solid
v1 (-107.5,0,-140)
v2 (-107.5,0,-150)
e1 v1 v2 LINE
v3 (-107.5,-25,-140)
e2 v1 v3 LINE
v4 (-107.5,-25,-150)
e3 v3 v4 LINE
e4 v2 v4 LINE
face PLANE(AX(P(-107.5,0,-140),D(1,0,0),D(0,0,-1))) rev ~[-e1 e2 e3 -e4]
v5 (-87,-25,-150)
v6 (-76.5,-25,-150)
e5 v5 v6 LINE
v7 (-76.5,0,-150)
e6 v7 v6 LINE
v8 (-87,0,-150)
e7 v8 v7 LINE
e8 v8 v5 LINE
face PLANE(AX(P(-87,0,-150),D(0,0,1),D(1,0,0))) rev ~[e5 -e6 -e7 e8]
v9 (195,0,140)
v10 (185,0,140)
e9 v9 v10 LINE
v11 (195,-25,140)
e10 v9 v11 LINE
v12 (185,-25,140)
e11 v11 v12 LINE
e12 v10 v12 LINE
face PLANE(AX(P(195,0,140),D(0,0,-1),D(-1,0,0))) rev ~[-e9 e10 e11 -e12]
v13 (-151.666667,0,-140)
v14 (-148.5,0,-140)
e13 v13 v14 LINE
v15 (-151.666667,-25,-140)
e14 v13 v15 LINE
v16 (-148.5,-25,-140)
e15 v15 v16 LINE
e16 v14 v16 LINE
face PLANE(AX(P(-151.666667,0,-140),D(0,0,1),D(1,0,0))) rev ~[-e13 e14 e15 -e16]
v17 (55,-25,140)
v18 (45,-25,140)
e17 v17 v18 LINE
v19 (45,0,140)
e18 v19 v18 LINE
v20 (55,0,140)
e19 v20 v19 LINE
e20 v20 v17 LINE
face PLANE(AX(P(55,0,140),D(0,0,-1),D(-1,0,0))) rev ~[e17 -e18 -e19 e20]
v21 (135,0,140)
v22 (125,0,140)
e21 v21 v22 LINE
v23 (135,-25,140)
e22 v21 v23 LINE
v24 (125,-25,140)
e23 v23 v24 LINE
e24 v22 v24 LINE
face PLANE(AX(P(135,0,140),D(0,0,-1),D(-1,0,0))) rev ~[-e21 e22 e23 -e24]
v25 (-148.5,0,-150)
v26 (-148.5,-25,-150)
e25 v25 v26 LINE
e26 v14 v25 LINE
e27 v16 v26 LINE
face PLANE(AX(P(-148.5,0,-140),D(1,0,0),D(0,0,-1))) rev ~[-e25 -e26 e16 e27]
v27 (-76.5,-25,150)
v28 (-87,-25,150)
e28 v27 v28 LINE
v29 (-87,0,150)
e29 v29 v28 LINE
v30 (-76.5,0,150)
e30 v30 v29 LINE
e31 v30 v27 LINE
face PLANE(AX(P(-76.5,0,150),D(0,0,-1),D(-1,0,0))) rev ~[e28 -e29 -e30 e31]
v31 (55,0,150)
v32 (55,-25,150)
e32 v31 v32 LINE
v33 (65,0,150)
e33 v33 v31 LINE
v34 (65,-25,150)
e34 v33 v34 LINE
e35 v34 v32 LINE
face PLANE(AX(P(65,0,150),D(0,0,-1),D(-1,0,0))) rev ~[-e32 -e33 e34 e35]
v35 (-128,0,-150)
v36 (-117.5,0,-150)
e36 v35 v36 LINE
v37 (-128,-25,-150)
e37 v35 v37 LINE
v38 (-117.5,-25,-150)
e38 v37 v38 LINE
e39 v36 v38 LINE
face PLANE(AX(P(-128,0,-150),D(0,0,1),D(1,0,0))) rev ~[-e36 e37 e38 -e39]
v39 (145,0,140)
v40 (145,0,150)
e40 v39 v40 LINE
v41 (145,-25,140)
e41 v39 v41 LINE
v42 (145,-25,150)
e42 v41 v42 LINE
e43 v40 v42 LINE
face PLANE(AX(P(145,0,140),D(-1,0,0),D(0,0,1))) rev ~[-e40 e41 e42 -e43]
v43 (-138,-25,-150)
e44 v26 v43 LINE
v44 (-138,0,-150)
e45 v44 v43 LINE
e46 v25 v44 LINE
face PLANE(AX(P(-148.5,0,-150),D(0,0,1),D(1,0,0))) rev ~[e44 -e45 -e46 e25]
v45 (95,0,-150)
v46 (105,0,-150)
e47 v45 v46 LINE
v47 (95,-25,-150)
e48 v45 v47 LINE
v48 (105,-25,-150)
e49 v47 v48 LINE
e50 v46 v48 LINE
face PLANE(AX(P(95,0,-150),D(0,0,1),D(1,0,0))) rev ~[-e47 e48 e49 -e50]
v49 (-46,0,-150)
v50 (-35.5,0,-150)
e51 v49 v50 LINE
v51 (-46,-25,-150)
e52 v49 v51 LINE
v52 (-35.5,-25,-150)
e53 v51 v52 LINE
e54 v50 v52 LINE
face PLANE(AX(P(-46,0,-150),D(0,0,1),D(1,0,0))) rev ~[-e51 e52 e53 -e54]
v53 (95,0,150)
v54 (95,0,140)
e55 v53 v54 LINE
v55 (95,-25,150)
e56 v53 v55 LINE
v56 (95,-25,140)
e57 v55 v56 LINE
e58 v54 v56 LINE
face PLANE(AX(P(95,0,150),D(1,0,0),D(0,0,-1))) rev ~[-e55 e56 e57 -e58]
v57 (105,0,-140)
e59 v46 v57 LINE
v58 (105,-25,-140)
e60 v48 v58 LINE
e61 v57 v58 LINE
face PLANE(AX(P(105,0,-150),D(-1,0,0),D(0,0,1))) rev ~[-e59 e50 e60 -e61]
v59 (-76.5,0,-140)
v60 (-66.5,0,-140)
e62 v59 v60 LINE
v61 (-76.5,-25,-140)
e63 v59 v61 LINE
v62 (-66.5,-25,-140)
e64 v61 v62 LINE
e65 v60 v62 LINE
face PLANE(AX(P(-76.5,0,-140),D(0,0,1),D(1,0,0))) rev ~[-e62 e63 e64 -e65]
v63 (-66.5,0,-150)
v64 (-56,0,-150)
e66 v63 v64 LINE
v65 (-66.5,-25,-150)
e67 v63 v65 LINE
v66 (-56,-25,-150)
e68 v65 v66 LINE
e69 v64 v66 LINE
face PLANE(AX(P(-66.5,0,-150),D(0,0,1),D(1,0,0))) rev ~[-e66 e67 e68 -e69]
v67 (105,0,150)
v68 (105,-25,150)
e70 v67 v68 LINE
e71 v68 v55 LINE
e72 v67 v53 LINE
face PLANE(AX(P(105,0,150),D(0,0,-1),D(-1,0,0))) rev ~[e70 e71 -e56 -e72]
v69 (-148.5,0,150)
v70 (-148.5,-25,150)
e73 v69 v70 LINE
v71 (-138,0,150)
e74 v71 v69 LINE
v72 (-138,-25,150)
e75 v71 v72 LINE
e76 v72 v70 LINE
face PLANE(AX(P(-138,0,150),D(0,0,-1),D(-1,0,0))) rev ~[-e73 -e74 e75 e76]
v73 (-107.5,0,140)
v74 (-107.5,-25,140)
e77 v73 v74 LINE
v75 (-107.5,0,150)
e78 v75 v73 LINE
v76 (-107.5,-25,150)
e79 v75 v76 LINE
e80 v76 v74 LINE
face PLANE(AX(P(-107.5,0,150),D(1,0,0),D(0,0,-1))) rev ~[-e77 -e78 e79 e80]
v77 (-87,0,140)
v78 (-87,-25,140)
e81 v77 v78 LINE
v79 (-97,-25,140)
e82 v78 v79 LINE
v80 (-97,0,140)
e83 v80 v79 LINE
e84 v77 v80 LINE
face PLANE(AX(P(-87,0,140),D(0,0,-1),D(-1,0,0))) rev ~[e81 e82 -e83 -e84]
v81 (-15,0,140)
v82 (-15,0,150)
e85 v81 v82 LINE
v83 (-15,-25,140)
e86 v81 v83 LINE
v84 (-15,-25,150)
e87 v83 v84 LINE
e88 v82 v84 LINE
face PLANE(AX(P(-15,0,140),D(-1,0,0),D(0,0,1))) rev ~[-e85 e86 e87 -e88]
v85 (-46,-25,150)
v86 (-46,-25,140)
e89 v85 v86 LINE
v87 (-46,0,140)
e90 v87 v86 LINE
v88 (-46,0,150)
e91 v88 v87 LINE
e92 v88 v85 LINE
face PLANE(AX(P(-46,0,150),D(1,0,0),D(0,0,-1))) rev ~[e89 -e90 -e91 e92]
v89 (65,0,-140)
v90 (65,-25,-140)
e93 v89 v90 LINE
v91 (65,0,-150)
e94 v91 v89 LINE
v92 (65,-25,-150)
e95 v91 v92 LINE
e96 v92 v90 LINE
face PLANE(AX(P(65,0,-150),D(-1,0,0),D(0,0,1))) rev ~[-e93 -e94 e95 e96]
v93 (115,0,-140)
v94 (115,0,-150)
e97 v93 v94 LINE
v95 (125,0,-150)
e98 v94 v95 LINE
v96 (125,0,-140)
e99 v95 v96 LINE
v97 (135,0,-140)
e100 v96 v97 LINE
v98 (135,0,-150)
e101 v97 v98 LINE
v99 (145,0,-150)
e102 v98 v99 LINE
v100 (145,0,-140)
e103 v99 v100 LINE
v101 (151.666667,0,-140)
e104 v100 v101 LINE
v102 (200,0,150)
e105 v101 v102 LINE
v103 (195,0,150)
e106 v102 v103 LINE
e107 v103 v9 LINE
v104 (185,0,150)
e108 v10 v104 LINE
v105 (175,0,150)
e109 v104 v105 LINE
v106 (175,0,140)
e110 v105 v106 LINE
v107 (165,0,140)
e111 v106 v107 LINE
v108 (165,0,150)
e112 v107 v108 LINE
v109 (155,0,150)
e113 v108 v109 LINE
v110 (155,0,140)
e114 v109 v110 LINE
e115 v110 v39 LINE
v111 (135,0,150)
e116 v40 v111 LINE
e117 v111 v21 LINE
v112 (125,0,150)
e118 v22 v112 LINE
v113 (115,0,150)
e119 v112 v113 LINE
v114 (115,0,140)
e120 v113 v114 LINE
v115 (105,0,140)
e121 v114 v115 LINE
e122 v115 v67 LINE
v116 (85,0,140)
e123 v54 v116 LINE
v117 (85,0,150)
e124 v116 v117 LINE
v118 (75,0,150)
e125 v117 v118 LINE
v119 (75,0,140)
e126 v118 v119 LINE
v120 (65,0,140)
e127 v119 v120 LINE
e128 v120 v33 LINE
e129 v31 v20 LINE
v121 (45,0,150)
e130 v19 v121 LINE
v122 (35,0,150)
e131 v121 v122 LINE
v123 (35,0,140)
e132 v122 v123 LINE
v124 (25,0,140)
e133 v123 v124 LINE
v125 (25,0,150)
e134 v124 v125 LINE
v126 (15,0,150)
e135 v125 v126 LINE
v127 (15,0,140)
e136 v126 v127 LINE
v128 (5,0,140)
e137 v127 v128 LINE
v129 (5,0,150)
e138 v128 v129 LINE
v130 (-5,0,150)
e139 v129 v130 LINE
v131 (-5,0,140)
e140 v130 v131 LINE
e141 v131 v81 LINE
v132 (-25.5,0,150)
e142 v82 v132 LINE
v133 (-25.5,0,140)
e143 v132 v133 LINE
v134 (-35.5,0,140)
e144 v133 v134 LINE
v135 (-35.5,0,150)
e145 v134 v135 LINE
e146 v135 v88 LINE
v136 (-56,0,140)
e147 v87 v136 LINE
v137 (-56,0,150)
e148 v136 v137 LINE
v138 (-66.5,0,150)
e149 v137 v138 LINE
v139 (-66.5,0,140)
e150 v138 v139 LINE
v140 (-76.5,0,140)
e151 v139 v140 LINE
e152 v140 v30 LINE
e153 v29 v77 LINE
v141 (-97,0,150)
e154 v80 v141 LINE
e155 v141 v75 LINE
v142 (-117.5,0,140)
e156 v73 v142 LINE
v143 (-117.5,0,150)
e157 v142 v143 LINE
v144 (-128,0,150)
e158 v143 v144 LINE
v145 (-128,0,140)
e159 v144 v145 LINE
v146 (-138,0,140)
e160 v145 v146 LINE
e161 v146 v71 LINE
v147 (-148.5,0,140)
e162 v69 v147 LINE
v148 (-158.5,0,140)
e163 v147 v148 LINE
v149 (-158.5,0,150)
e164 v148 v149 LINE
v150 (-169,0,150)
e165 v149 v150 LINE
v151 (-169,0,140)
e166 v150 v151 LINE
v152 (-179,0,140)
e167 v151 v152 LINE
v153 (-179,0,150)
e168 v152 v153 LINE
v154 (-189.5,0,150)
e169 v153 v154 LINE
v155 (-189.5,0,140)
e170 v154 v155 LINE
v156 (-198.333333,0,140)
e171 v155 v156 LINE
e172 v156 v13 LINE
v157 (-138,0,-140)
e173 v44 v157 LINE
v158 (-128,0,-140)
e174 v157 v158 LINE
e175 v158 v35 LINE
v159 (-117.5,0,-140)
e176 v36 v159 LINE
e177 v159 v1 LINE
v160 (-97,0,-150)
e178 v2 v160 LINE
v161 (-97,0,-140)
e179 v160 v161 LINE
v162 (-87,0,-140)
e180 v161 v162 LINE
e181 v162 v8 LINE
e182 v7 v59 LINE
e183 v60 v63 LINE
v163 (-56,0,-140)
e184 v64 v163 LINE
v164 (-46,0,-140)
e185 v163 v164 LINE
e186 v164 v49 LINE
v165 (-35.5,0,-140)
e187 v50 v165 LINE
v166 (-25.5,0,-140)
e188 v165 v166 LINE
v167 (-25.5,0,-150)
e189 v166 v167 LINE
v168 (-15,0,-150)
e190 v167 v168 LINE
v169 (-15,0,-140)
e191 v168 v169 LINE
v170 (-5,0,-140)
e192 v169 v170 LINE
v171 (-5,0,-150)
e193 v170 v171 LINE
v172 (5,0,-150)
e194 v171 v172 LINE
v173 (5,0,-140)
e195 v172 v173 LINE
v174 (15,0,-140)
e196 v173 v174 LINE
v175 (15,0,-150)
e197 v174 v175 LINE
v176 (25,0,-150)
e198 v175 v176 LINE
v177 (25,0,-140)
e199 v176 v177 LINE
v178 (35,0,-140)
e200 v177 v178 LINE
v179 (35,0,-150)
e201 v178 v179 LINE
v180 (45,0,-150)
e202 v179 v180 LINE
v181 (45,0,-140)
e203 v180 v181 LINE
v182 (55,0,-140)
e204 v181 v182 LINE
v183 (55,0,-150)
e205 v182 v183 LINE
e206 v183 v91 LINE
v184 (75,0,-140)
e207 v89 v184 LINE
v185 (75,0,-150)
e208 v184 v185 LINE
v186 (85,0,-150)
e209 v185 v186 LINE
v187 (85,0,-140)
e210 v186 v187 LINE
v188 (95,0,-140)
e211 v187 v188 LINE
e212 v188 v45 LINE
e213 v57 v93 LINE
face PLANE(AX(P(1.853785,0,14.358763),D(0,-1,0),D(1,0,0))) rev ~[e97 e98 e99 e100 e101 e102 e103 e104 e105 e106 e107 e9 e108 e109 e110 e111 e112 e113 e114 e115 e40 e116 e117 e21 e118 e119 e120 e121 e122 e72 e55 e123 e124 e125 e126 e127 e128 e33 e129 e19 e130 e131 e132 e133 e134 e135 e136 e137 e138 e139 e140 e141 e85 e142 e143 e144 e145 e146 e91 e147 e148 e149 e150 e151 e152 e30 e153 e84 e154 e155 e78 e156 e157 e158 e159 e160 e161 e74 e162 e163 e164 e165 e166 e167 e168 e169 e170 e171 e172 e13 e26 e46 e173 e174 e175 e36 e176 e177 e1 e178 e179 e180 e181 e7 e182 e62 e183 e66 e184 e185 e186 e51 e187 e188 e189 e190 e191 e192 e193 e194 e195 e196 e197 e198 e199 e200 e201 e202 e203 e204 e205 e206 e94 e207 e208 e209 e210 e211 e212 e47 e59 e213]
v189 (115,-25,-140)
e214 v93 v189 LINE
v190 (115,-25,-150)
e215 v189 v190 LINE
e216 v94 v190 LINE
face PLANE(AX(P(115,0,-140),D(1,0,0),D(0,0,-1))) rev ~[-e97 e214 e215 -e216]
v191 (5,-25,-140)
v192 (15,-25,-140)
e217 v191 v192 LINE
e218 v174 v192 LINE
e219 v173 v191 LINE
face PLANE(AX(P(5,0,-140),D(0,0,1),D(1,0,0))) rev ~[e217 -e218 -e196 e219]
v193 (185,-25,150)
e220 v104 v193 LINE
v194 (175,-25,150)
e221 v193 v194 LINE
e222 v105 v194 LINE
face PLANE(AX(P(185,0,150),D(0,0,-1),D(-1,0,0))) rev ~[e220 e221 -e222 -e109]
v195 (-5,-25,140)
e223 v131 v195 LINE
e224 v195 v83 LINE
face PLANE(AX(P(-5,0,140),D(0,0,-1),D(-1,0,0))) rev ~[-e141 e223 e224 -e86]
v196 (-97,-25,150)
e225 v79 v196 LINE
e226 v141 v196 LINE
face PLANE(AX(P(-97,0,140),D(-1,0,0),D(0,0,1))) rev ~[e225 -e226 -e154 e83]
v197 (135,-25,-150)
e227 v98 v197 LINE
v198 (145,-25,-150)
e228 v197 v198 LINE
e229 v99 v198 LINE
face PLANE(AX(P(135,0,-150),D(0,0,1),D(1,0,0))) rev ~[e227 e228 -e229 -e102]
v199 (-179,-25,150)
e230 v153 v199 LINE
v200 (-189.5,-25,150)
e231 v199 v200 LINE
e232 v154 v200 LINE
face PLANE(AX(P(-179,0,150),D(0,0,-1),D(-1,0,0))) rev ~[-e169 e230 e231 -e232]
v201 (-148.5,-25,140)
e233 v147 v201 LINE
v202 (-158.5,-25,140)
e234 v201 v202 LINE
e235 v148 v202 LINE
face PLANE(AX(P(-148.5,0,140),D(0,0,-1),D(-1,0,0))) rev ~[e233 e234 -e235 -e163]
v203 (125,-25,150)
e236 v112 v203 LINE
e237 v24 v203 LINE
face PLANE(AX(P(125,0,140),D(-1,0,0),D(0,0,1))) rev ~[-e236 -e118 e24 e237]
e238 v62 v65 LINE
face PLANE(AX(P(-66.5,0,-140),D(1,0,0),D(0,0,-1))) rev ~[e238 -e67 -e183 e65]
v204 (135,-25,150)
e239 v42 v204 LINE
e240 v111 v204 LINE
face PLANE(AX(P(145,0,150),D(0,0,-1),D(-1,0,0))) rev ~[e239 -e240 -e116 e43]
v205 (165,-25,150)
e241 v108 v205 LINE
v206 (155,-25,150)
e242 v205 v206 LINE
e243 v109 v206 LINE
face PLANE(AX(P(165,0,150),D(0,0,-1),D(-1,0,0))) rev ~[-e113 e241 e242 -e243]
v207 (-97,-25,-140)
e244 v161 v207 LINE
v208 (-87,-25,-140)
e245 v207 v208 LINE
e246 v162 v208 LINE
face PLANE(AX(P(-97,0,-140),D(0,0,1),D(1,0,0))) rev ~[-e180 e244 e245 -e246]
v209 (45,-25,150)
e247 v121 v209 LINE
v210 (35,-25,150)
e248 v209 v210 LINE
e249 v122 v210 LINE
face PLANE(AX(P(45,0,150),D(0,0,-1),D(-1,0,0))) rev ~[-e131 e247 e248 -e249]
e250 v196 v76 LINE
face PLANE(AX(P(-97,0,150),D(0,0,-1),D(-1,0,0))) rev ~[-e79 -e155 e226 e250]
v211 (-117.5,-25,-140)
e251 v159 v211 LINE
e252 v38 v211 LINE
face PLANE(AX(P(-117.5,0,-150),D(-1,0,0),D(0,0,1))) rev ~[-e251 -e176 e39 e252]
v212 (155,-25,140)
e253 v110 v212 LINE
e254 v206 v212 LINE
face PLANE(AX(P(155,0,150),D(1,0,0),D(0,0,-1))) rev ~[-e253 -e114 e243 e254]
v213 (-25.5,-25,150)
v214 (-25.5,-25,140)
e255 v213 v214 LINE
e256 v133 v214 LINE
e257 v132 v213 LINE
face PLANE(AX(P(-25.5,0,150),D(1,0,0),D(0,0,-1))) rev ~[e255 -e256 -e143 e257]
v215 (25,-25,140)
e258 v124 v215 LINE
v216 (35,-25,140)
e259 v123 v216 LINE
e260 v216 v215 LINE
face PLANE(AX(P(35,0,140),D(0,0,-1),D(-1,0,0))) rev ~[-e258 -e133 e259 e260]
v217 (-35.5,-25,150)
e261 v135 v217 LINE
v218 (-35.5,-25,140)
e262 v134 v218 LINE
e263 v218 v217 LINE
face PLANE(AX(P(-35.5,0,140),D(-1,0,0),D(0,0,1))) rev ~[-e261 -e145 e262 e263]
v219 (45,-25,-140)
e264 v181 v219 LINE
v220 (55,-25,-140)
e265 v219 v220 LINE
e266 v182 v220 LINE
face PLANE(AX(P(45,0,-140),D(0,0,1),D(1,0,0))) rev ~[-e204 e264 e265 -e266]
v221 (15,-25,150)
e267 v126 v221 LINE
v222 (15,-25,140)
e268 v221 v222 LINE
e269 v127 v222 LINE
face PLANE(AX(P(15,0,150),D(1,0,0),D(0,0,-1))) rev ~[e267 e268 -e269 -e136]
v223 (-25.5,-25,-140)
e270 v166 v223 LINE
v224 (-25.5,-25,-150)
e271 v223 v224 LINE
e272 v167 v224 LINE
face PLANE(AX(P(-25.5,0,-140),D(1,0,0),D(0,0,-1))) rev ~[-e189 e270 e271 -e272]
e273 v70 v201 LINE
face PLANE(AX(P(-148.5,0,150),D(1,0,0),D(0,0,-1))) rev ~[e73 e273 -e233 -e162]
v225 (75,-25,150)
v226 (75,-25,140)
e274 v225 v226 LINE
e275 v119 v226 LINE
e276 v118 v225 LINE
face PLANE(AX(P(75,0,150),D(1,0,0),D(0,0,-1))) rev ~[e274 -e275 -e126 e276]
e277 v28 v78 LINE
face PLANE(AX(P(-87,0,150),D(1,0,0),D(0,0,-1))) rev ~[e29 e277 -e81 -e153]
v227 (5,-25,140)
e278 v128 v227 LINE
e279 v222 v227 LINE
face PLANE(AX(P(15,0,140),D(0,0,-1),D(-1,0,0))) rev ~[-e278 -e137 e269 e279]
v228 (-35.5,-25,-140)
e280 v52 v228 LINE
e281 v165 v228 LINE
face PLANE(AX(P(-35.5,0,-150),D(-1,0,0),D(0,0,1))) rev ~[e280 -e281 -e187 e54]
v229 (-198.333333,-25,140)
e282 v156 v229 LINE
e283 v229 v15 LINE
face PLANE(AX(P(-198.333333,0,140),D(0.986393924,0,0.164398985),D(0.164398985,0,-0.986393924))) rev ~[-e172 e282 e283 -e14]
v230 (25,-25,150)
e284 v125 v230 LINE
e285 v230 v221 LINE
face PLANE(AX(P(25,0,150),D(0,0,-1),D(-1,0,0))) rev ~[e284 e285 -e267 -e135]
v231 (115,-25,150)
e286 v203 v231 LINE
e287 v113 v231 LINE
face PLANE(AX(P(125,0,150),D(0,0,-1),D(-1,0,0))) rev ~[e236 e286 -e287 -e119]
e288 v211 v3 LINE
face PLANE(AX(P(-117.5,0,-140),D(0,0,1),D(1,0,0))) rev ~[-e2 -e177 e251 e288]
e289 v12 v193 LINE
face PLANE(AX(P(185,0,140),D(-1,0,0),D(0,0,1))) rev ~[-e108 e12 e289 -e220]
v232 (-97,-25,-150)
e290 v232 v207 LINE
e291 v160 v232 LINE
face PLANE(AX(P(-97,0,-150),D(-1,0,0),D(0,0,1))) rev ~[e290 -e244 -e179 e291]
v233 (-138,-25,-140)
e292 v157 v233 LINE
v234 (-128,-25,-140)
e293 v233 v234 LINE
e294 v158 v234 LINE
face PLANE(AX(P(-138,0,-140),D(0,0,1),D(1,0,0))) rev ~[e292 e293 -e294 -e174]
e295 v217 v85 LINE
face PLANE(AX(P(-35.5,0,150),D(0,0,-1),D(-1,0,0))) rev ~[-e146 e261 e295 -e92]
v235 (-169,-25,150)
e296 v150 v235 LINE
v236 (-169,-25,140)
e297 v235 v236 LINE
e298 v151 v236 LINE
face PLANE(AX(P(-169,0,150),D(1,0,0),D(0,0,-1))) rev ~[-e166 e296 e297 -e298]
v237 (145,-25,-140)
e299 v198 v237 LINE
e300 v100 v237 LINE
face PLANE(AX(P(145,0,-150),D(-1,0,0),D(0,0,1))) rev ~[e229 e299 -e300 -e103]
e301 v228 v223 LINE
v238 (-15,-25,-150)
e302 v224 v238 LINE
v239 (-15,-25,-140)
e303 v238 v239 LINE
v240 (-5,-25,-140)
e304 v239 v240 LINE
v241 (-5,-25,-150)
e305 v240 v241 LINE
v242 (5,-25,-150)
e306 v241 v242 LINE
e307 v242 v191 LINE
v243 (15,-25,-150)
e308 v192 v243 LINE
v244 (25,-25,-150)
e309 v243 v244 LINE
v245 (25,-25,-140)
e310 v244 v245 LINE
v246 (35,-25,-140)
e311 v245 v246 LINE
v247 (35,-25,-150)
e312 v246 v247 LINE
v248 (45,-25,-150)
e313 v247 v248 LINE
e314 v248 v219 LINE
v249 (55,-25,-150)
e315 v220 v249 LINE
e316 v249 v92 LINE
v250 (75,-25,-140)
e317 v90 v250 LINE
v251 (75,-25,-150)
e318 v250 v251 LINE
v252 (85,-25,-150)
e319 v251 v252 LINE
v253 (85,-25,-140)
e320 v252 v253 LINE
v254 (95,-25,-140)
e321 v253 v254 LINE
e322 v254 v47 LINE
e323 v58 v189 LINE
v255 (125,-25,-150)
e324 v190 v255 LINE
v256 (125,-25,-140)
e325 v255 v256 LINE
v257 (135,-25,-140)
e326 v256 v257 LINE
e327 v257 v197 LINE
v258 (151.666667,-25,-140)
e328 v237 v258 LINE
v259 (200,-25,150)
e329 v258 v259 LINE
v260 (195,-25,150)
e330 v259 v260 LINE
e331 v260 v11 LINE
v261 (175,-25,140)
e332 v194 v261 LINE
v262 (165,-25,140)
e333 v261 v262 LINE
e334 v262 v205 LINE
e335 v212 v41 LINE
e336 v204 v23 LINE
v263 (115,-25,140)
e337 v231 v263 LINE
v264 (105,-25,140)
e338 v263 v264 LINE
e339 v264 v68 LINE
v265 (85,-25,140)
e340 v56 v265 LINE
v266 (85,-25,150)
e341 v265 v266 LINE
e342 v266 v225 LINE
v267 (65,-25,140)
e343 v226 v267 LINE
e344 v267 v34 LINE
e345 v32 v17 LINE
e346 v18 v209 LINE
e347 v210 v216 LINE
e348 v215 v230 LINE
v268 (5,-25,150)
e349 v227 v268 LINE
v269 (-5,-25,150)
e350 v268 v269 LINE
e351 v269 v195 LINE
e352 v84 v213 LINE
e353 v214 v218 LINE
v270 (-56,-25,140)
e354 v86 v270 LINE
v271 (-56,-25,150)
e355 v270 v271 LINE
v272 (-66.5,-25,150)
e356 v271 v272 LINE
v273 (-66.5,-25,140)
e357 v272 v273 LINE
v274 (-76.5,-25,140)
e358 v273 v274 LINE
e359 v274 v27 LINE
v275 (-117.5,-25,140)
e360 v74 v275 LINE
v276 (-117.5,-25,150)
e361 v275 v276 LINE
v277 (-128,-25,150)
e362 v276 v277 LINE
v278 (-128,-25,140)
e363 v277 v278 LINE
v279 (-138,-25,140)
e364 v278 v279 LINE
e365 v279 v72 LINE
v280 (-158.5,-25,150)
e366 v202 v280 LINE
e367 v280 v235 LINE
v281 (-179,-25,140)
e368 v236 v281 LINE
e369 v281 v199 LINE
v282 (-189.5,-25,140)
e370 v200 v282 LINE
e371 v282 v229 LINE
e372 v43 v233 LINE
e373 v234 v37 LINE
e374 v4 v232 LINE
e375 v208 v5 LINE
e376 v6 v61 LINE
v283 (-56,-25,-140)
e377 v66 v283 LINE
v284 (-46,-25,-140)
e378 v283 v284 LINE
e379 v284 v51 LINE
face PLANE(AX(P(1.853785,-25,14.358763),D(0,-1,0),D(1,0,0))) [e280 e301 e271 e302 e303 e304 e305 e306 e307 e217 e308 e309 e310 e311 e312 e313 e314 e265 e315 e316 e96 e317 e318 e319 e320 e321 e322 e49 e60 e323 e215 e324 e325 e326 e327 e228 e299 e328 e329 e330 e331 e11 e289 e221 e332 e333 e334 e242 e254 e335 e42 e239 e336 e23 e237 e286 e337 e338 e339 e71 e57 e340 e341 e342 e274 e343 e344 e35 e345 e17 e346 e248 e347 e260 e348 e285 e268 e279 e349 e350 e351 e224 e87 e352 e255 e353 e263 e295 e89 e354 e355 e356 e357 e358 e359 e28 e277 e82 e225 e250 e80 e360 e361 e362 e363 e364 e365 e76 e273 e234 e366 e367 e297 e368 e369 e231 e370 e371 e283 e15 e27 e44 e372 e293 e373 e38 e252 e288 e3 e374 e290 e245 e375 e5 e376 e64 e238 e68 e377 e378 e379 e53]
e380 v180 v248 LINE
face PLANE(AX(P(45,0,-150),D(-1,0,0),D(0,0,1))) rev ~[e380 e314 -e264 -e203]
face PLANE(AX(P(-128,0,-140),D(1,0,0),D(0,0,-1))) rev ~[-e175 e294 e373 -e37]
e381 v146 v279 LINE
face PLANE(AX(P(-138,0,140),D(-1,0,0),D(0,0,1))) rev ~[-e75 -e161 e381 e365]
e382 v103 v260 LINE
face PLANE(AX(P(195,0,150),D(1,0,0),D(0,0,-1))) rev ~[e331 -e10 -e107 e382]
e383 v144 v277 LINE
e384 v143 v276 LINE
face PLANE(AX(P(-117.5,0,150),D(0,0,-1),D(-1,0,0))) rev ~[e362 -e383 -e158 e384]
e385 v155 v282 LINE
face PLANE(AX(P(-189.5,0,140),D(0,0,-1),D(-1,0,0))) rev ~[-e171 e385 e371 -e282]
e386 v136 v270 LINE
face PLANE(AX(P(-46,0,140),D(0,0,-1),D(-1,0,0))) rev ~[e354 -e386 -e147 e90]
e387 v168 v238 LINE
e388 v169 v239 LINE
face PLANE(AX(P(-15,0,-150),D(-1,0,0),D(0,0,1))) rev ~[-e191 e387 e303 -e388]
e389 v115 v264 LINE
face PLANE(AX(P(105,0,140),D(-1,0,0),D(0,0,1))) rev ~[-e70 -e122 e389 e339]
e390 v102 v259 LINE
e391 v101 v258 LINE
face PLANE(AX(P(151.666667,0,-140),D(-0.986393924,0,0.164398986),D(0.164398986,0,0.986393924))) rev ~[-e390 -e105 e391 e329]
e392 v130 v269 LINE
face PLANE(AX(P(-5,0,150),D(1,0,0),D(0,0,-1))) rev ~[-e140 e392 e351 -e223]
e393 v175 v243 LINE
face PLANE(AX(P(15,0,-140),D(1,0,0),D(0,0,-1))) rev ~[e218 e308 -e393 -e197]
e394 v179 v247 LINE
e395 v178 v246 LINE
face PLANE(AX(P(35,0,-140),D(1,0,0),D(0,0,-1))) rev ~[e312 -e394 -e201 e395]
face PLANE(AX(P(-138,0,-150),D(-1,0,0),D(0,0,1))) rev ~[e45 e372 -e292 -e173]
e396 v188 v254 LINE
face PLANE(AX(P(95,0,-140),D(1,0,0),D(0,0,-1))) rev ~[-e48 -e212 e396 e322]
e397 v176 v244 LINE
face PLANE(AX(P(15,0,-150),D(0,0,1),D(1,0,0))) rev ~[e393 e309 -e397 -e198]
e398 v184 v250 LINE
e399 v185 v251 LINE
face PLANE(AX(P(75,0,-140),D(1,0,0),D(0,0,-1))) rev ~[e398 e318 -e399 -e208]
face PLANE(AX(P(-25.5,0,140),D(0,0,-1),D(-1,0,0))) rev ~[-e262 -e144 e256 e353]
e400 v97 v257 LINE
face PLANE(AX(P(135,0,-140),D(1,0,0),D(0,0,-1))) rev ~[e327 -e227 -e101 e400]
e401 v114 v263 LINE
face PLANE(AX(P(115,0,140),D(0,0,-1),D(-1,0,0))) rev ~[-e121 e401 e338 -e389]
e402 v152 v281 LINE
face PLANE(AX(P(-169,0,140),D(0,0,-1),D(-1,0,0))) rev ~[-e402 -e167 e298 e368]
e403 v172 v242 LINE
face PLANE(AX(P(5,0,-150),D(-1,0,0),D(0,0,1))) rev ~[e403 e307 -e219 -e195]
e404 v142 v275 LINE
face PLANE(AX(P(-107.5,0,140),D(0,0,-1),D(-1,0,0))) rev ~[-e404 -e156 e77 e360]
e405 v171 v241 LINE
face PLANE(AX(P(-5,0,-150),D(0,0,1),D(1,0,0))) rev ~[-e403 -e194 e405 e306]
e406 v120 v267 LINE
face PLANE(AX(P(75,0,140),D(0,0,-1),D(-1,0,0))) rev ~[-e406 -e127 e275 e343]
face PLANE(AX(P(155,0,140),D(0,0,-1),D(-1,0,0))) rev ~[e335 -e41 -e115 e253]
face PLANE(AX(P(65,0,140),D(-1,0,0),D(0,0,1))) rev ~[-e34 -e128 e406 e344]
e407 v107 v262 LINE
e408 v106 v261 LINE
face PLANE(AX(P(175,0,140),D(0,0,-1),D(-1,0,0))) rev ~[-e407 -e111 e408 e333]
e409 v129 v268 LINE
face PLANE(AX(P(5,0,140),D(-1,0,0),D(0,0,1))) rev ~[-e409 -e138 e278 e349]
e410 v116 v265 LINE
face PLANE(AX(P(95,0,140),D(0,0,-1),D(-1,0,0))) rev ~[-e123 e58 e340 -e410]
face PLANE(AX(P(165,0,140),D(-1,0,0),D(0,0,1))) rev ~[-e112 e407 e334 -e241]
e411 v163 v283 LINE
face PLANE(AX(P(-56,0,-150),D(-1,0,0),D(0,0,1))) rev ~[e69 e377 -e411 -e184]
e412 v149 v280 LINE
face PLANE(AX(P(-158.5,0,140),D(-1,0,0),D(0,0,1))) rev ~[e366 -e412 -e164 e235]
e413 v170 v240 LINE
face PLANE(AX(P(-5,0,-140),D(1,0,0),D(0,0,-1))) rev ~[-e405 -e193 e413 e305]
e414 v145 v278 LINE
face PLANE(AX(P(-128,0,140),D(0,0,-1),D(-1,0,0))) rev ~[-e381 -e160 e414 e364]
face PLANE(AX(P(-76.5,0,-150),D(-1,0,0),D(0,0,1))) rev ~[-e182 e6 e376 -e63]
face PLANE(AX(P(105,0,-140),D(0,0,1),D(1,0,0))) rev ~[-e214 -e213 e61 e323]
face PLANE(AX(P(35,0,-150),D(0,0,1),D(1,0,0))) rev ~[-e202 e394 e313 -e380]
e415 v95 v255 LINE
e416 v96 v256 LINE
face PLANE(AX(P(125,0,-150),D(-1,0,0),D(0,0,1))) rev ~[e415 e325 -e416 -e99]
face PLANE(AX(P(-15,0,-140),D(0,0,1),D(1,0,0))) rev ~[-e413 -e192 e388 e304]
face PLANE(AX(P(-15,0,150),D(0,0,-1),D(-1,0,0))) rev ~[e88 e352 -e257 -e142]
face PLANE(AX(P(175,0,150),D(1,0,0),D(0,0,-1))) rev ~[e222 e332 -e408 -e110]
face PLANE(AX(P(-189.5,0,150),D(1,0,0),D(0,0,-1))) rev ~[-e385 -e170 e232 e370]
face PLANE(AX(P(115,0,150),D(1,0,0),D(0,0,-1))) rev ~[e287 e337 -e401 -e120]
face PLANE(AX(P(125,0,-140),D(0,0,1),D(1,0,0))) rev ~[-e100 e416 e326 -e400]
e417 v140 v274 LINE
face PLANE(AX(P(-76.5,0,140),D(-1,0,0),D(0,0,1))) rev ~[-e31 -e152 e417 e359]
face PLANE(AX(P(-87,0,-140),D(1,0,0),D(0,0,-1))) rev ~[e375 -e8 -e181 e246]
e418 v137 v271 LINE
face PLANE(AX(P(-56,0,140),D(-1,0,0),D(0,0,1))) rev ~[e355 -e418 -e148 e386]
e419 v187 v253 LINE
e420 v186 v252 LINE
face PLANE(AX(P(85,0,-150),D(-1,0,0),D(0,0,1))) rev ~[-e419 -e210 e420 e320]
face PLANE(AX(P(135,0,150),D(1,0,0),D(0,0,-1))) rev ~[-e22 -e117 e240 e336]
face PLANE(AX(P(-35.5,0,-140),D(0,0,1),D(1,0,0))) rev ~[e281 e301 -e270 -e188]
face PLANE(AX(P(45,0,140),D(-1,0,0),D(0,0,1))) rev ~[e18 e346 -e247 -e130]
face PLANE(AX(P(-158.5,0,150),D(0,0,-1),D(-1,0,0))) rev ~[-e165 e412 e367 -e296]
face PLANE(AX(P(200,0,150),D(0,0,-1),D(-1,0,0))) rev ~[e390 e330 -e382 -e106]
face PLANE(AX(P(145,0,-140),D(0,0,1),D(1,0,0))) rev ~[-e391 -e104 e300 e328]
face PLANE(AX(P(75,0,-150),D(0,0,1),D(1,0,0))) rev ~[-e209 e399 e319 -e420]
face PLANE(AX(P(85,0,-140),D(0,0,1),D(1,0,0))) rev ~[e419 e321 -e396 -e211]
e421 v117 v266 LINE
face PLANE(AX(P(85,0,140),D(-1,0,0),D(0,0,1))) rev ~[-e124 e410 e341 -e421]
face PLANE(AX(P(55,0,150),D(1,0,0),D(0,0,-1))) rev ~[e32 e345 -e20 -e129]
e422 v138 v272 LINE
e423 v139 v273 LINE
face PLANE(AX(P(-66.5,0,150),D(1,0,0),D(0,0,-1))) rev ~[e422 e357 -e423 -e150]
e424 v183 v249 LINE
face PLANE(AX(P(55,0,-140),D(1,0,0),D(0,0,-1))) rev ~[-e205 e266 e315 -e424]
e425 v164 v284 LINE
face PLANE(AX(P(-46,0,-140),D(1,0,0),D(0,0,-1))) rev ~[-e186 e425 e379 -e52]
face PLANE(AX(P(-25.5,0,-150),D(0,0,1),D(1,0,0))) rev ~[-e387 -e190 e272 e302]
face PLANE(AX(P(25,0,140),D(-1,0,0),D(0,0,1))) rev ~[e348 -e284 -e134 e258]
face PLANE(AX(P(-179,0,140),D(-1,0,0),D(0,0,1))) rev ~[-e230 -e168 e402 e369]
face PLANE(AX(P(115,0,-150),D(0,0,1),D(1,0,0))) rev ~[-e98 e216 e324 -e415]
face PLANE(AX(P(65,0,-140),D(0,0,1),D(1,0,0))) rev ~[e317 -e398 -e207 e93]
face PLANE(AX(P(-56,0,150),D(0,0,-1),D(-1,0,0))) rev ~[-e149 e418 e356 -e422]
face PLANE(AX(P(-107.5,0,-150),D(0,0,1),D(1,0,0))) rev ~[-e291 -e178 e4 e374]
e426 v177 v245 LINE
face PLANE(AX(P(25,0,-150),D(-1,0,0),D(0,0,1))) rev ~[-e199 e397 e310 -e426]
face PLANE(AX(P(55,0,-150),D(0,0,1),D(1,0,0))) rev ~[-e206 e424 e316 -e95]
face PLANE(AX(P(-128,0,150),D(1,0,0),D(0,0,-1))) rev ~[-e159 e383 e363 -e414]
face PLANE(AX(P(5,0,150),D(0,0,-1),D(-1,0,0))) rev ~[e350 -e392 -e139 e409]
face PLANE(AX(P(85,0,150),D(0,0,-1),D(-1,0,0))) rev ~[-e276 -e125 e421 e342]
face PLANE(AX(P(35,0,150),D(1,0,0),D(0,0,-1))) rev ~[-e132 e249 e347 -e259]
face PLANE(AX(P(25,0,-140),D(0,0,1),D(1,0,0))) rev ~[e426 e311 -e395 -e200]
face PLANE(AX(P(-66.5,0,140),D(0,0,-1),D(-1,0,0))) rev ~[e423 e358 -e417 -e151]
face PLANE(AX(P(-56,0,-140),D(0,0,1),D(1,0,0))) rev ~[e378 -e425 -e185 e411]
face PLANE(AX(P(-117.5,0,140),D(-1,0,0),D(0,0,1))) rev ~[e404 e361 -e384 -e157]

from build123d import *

# Parameters (mm, degrees)
F1_DEPTH = 25


with BuildPart() as f1:
    # F0 (on Front) → F1 (new body)
    with BuildSketch(Plane.XZ):
        Polygon((151.666667, -140), (200, 150), (195, 150), (195, 140), (185, 140), (185, 150), (175, 150), (175, 140), (165, 140), (165, 150), (155, 150), (155, 140), (145, 140), (145, 150), (135, 150), (135, 140), (125, 140), (125, 150), (115, 150), (115, 140), (105, 140), (105, 150), (95, 150), (95, 140), (85, 140), (85, 150), (75, 150), (75, 140), (65, 140), (65, 150), (55, 150), (55, 140), (45, 140), (45, 150), (35, 150), (35, 140), (25, 140), (25, 150), (15, 150), (15, 140), (5, 140), (5, 150), (0, 150), (-5, 150), (-5, 140), (-15, 140), (-15, 150), (-25.5, 150), (-25.5, 140), (-35.5, 140), (-35.5, 150), (-46, 150), (-46, 140), (-56, 140), (-56, 150), (-66.5, 150), (-66.5, 140), (-76.5, 140), (-76.5, 150), (-87, 150), (-87, 140), (-97, 140), (-97, 150), (-107.5, 150), (-107.5, 140), (-117.5, 140), (-117.5, 150), (-128, 150), (-128, 140), (-138, 140), (-138, 150), (-148.5, 150), (-148.5, 140), (-158.5, 140), (-158.5, 150), (-169, 150), (-169, 140), (-179, 140), (-179, 150), (-189.5, 150), (-189.5, 140), (-198.333333, 140), (-151.666667, -140), (-148.5, -140), (-148.5, -150), (-138, -150), (-138, -140), (-128, -140), (-128, -150), (-117.5, -150), (-117.5, -140), (-107.5, -140), (-107.5, -150), (-97, -150), (-97, -140), (-87, -140), (-87, -150), (-76.5, -150), (-76.5, -140), (-66.5, -140), (-66.5, -150), (-56, -150), (-56, -140), (-46, -140), (-46, -150), (-35.5, -150), (-35.5, -140), (-25.5, -140), (-25.5, -150), (-15, -150), (-15, -140), (-5, -140), (-5, -150), (0, -150), (5, -150), (5, -140), (15, -140), (15, -150), (25, -150), (25, -140), (35, -140), (35, -150), (45, -150), (45, -140), (55, -140), (55, -150), (65, -150), (65, -140), (75, -140), (75, -150), (85, -150), (85, -140), (95, -140), (95, -150), (105, -150), (105, -140), (115, -140), (115, -150), (125, -150), (125, -140), (135, -140), (135, -150), (145, -150), (145, -140), align=None)
    extrude(amount=F1_DEPTH)


solid = f1.part
